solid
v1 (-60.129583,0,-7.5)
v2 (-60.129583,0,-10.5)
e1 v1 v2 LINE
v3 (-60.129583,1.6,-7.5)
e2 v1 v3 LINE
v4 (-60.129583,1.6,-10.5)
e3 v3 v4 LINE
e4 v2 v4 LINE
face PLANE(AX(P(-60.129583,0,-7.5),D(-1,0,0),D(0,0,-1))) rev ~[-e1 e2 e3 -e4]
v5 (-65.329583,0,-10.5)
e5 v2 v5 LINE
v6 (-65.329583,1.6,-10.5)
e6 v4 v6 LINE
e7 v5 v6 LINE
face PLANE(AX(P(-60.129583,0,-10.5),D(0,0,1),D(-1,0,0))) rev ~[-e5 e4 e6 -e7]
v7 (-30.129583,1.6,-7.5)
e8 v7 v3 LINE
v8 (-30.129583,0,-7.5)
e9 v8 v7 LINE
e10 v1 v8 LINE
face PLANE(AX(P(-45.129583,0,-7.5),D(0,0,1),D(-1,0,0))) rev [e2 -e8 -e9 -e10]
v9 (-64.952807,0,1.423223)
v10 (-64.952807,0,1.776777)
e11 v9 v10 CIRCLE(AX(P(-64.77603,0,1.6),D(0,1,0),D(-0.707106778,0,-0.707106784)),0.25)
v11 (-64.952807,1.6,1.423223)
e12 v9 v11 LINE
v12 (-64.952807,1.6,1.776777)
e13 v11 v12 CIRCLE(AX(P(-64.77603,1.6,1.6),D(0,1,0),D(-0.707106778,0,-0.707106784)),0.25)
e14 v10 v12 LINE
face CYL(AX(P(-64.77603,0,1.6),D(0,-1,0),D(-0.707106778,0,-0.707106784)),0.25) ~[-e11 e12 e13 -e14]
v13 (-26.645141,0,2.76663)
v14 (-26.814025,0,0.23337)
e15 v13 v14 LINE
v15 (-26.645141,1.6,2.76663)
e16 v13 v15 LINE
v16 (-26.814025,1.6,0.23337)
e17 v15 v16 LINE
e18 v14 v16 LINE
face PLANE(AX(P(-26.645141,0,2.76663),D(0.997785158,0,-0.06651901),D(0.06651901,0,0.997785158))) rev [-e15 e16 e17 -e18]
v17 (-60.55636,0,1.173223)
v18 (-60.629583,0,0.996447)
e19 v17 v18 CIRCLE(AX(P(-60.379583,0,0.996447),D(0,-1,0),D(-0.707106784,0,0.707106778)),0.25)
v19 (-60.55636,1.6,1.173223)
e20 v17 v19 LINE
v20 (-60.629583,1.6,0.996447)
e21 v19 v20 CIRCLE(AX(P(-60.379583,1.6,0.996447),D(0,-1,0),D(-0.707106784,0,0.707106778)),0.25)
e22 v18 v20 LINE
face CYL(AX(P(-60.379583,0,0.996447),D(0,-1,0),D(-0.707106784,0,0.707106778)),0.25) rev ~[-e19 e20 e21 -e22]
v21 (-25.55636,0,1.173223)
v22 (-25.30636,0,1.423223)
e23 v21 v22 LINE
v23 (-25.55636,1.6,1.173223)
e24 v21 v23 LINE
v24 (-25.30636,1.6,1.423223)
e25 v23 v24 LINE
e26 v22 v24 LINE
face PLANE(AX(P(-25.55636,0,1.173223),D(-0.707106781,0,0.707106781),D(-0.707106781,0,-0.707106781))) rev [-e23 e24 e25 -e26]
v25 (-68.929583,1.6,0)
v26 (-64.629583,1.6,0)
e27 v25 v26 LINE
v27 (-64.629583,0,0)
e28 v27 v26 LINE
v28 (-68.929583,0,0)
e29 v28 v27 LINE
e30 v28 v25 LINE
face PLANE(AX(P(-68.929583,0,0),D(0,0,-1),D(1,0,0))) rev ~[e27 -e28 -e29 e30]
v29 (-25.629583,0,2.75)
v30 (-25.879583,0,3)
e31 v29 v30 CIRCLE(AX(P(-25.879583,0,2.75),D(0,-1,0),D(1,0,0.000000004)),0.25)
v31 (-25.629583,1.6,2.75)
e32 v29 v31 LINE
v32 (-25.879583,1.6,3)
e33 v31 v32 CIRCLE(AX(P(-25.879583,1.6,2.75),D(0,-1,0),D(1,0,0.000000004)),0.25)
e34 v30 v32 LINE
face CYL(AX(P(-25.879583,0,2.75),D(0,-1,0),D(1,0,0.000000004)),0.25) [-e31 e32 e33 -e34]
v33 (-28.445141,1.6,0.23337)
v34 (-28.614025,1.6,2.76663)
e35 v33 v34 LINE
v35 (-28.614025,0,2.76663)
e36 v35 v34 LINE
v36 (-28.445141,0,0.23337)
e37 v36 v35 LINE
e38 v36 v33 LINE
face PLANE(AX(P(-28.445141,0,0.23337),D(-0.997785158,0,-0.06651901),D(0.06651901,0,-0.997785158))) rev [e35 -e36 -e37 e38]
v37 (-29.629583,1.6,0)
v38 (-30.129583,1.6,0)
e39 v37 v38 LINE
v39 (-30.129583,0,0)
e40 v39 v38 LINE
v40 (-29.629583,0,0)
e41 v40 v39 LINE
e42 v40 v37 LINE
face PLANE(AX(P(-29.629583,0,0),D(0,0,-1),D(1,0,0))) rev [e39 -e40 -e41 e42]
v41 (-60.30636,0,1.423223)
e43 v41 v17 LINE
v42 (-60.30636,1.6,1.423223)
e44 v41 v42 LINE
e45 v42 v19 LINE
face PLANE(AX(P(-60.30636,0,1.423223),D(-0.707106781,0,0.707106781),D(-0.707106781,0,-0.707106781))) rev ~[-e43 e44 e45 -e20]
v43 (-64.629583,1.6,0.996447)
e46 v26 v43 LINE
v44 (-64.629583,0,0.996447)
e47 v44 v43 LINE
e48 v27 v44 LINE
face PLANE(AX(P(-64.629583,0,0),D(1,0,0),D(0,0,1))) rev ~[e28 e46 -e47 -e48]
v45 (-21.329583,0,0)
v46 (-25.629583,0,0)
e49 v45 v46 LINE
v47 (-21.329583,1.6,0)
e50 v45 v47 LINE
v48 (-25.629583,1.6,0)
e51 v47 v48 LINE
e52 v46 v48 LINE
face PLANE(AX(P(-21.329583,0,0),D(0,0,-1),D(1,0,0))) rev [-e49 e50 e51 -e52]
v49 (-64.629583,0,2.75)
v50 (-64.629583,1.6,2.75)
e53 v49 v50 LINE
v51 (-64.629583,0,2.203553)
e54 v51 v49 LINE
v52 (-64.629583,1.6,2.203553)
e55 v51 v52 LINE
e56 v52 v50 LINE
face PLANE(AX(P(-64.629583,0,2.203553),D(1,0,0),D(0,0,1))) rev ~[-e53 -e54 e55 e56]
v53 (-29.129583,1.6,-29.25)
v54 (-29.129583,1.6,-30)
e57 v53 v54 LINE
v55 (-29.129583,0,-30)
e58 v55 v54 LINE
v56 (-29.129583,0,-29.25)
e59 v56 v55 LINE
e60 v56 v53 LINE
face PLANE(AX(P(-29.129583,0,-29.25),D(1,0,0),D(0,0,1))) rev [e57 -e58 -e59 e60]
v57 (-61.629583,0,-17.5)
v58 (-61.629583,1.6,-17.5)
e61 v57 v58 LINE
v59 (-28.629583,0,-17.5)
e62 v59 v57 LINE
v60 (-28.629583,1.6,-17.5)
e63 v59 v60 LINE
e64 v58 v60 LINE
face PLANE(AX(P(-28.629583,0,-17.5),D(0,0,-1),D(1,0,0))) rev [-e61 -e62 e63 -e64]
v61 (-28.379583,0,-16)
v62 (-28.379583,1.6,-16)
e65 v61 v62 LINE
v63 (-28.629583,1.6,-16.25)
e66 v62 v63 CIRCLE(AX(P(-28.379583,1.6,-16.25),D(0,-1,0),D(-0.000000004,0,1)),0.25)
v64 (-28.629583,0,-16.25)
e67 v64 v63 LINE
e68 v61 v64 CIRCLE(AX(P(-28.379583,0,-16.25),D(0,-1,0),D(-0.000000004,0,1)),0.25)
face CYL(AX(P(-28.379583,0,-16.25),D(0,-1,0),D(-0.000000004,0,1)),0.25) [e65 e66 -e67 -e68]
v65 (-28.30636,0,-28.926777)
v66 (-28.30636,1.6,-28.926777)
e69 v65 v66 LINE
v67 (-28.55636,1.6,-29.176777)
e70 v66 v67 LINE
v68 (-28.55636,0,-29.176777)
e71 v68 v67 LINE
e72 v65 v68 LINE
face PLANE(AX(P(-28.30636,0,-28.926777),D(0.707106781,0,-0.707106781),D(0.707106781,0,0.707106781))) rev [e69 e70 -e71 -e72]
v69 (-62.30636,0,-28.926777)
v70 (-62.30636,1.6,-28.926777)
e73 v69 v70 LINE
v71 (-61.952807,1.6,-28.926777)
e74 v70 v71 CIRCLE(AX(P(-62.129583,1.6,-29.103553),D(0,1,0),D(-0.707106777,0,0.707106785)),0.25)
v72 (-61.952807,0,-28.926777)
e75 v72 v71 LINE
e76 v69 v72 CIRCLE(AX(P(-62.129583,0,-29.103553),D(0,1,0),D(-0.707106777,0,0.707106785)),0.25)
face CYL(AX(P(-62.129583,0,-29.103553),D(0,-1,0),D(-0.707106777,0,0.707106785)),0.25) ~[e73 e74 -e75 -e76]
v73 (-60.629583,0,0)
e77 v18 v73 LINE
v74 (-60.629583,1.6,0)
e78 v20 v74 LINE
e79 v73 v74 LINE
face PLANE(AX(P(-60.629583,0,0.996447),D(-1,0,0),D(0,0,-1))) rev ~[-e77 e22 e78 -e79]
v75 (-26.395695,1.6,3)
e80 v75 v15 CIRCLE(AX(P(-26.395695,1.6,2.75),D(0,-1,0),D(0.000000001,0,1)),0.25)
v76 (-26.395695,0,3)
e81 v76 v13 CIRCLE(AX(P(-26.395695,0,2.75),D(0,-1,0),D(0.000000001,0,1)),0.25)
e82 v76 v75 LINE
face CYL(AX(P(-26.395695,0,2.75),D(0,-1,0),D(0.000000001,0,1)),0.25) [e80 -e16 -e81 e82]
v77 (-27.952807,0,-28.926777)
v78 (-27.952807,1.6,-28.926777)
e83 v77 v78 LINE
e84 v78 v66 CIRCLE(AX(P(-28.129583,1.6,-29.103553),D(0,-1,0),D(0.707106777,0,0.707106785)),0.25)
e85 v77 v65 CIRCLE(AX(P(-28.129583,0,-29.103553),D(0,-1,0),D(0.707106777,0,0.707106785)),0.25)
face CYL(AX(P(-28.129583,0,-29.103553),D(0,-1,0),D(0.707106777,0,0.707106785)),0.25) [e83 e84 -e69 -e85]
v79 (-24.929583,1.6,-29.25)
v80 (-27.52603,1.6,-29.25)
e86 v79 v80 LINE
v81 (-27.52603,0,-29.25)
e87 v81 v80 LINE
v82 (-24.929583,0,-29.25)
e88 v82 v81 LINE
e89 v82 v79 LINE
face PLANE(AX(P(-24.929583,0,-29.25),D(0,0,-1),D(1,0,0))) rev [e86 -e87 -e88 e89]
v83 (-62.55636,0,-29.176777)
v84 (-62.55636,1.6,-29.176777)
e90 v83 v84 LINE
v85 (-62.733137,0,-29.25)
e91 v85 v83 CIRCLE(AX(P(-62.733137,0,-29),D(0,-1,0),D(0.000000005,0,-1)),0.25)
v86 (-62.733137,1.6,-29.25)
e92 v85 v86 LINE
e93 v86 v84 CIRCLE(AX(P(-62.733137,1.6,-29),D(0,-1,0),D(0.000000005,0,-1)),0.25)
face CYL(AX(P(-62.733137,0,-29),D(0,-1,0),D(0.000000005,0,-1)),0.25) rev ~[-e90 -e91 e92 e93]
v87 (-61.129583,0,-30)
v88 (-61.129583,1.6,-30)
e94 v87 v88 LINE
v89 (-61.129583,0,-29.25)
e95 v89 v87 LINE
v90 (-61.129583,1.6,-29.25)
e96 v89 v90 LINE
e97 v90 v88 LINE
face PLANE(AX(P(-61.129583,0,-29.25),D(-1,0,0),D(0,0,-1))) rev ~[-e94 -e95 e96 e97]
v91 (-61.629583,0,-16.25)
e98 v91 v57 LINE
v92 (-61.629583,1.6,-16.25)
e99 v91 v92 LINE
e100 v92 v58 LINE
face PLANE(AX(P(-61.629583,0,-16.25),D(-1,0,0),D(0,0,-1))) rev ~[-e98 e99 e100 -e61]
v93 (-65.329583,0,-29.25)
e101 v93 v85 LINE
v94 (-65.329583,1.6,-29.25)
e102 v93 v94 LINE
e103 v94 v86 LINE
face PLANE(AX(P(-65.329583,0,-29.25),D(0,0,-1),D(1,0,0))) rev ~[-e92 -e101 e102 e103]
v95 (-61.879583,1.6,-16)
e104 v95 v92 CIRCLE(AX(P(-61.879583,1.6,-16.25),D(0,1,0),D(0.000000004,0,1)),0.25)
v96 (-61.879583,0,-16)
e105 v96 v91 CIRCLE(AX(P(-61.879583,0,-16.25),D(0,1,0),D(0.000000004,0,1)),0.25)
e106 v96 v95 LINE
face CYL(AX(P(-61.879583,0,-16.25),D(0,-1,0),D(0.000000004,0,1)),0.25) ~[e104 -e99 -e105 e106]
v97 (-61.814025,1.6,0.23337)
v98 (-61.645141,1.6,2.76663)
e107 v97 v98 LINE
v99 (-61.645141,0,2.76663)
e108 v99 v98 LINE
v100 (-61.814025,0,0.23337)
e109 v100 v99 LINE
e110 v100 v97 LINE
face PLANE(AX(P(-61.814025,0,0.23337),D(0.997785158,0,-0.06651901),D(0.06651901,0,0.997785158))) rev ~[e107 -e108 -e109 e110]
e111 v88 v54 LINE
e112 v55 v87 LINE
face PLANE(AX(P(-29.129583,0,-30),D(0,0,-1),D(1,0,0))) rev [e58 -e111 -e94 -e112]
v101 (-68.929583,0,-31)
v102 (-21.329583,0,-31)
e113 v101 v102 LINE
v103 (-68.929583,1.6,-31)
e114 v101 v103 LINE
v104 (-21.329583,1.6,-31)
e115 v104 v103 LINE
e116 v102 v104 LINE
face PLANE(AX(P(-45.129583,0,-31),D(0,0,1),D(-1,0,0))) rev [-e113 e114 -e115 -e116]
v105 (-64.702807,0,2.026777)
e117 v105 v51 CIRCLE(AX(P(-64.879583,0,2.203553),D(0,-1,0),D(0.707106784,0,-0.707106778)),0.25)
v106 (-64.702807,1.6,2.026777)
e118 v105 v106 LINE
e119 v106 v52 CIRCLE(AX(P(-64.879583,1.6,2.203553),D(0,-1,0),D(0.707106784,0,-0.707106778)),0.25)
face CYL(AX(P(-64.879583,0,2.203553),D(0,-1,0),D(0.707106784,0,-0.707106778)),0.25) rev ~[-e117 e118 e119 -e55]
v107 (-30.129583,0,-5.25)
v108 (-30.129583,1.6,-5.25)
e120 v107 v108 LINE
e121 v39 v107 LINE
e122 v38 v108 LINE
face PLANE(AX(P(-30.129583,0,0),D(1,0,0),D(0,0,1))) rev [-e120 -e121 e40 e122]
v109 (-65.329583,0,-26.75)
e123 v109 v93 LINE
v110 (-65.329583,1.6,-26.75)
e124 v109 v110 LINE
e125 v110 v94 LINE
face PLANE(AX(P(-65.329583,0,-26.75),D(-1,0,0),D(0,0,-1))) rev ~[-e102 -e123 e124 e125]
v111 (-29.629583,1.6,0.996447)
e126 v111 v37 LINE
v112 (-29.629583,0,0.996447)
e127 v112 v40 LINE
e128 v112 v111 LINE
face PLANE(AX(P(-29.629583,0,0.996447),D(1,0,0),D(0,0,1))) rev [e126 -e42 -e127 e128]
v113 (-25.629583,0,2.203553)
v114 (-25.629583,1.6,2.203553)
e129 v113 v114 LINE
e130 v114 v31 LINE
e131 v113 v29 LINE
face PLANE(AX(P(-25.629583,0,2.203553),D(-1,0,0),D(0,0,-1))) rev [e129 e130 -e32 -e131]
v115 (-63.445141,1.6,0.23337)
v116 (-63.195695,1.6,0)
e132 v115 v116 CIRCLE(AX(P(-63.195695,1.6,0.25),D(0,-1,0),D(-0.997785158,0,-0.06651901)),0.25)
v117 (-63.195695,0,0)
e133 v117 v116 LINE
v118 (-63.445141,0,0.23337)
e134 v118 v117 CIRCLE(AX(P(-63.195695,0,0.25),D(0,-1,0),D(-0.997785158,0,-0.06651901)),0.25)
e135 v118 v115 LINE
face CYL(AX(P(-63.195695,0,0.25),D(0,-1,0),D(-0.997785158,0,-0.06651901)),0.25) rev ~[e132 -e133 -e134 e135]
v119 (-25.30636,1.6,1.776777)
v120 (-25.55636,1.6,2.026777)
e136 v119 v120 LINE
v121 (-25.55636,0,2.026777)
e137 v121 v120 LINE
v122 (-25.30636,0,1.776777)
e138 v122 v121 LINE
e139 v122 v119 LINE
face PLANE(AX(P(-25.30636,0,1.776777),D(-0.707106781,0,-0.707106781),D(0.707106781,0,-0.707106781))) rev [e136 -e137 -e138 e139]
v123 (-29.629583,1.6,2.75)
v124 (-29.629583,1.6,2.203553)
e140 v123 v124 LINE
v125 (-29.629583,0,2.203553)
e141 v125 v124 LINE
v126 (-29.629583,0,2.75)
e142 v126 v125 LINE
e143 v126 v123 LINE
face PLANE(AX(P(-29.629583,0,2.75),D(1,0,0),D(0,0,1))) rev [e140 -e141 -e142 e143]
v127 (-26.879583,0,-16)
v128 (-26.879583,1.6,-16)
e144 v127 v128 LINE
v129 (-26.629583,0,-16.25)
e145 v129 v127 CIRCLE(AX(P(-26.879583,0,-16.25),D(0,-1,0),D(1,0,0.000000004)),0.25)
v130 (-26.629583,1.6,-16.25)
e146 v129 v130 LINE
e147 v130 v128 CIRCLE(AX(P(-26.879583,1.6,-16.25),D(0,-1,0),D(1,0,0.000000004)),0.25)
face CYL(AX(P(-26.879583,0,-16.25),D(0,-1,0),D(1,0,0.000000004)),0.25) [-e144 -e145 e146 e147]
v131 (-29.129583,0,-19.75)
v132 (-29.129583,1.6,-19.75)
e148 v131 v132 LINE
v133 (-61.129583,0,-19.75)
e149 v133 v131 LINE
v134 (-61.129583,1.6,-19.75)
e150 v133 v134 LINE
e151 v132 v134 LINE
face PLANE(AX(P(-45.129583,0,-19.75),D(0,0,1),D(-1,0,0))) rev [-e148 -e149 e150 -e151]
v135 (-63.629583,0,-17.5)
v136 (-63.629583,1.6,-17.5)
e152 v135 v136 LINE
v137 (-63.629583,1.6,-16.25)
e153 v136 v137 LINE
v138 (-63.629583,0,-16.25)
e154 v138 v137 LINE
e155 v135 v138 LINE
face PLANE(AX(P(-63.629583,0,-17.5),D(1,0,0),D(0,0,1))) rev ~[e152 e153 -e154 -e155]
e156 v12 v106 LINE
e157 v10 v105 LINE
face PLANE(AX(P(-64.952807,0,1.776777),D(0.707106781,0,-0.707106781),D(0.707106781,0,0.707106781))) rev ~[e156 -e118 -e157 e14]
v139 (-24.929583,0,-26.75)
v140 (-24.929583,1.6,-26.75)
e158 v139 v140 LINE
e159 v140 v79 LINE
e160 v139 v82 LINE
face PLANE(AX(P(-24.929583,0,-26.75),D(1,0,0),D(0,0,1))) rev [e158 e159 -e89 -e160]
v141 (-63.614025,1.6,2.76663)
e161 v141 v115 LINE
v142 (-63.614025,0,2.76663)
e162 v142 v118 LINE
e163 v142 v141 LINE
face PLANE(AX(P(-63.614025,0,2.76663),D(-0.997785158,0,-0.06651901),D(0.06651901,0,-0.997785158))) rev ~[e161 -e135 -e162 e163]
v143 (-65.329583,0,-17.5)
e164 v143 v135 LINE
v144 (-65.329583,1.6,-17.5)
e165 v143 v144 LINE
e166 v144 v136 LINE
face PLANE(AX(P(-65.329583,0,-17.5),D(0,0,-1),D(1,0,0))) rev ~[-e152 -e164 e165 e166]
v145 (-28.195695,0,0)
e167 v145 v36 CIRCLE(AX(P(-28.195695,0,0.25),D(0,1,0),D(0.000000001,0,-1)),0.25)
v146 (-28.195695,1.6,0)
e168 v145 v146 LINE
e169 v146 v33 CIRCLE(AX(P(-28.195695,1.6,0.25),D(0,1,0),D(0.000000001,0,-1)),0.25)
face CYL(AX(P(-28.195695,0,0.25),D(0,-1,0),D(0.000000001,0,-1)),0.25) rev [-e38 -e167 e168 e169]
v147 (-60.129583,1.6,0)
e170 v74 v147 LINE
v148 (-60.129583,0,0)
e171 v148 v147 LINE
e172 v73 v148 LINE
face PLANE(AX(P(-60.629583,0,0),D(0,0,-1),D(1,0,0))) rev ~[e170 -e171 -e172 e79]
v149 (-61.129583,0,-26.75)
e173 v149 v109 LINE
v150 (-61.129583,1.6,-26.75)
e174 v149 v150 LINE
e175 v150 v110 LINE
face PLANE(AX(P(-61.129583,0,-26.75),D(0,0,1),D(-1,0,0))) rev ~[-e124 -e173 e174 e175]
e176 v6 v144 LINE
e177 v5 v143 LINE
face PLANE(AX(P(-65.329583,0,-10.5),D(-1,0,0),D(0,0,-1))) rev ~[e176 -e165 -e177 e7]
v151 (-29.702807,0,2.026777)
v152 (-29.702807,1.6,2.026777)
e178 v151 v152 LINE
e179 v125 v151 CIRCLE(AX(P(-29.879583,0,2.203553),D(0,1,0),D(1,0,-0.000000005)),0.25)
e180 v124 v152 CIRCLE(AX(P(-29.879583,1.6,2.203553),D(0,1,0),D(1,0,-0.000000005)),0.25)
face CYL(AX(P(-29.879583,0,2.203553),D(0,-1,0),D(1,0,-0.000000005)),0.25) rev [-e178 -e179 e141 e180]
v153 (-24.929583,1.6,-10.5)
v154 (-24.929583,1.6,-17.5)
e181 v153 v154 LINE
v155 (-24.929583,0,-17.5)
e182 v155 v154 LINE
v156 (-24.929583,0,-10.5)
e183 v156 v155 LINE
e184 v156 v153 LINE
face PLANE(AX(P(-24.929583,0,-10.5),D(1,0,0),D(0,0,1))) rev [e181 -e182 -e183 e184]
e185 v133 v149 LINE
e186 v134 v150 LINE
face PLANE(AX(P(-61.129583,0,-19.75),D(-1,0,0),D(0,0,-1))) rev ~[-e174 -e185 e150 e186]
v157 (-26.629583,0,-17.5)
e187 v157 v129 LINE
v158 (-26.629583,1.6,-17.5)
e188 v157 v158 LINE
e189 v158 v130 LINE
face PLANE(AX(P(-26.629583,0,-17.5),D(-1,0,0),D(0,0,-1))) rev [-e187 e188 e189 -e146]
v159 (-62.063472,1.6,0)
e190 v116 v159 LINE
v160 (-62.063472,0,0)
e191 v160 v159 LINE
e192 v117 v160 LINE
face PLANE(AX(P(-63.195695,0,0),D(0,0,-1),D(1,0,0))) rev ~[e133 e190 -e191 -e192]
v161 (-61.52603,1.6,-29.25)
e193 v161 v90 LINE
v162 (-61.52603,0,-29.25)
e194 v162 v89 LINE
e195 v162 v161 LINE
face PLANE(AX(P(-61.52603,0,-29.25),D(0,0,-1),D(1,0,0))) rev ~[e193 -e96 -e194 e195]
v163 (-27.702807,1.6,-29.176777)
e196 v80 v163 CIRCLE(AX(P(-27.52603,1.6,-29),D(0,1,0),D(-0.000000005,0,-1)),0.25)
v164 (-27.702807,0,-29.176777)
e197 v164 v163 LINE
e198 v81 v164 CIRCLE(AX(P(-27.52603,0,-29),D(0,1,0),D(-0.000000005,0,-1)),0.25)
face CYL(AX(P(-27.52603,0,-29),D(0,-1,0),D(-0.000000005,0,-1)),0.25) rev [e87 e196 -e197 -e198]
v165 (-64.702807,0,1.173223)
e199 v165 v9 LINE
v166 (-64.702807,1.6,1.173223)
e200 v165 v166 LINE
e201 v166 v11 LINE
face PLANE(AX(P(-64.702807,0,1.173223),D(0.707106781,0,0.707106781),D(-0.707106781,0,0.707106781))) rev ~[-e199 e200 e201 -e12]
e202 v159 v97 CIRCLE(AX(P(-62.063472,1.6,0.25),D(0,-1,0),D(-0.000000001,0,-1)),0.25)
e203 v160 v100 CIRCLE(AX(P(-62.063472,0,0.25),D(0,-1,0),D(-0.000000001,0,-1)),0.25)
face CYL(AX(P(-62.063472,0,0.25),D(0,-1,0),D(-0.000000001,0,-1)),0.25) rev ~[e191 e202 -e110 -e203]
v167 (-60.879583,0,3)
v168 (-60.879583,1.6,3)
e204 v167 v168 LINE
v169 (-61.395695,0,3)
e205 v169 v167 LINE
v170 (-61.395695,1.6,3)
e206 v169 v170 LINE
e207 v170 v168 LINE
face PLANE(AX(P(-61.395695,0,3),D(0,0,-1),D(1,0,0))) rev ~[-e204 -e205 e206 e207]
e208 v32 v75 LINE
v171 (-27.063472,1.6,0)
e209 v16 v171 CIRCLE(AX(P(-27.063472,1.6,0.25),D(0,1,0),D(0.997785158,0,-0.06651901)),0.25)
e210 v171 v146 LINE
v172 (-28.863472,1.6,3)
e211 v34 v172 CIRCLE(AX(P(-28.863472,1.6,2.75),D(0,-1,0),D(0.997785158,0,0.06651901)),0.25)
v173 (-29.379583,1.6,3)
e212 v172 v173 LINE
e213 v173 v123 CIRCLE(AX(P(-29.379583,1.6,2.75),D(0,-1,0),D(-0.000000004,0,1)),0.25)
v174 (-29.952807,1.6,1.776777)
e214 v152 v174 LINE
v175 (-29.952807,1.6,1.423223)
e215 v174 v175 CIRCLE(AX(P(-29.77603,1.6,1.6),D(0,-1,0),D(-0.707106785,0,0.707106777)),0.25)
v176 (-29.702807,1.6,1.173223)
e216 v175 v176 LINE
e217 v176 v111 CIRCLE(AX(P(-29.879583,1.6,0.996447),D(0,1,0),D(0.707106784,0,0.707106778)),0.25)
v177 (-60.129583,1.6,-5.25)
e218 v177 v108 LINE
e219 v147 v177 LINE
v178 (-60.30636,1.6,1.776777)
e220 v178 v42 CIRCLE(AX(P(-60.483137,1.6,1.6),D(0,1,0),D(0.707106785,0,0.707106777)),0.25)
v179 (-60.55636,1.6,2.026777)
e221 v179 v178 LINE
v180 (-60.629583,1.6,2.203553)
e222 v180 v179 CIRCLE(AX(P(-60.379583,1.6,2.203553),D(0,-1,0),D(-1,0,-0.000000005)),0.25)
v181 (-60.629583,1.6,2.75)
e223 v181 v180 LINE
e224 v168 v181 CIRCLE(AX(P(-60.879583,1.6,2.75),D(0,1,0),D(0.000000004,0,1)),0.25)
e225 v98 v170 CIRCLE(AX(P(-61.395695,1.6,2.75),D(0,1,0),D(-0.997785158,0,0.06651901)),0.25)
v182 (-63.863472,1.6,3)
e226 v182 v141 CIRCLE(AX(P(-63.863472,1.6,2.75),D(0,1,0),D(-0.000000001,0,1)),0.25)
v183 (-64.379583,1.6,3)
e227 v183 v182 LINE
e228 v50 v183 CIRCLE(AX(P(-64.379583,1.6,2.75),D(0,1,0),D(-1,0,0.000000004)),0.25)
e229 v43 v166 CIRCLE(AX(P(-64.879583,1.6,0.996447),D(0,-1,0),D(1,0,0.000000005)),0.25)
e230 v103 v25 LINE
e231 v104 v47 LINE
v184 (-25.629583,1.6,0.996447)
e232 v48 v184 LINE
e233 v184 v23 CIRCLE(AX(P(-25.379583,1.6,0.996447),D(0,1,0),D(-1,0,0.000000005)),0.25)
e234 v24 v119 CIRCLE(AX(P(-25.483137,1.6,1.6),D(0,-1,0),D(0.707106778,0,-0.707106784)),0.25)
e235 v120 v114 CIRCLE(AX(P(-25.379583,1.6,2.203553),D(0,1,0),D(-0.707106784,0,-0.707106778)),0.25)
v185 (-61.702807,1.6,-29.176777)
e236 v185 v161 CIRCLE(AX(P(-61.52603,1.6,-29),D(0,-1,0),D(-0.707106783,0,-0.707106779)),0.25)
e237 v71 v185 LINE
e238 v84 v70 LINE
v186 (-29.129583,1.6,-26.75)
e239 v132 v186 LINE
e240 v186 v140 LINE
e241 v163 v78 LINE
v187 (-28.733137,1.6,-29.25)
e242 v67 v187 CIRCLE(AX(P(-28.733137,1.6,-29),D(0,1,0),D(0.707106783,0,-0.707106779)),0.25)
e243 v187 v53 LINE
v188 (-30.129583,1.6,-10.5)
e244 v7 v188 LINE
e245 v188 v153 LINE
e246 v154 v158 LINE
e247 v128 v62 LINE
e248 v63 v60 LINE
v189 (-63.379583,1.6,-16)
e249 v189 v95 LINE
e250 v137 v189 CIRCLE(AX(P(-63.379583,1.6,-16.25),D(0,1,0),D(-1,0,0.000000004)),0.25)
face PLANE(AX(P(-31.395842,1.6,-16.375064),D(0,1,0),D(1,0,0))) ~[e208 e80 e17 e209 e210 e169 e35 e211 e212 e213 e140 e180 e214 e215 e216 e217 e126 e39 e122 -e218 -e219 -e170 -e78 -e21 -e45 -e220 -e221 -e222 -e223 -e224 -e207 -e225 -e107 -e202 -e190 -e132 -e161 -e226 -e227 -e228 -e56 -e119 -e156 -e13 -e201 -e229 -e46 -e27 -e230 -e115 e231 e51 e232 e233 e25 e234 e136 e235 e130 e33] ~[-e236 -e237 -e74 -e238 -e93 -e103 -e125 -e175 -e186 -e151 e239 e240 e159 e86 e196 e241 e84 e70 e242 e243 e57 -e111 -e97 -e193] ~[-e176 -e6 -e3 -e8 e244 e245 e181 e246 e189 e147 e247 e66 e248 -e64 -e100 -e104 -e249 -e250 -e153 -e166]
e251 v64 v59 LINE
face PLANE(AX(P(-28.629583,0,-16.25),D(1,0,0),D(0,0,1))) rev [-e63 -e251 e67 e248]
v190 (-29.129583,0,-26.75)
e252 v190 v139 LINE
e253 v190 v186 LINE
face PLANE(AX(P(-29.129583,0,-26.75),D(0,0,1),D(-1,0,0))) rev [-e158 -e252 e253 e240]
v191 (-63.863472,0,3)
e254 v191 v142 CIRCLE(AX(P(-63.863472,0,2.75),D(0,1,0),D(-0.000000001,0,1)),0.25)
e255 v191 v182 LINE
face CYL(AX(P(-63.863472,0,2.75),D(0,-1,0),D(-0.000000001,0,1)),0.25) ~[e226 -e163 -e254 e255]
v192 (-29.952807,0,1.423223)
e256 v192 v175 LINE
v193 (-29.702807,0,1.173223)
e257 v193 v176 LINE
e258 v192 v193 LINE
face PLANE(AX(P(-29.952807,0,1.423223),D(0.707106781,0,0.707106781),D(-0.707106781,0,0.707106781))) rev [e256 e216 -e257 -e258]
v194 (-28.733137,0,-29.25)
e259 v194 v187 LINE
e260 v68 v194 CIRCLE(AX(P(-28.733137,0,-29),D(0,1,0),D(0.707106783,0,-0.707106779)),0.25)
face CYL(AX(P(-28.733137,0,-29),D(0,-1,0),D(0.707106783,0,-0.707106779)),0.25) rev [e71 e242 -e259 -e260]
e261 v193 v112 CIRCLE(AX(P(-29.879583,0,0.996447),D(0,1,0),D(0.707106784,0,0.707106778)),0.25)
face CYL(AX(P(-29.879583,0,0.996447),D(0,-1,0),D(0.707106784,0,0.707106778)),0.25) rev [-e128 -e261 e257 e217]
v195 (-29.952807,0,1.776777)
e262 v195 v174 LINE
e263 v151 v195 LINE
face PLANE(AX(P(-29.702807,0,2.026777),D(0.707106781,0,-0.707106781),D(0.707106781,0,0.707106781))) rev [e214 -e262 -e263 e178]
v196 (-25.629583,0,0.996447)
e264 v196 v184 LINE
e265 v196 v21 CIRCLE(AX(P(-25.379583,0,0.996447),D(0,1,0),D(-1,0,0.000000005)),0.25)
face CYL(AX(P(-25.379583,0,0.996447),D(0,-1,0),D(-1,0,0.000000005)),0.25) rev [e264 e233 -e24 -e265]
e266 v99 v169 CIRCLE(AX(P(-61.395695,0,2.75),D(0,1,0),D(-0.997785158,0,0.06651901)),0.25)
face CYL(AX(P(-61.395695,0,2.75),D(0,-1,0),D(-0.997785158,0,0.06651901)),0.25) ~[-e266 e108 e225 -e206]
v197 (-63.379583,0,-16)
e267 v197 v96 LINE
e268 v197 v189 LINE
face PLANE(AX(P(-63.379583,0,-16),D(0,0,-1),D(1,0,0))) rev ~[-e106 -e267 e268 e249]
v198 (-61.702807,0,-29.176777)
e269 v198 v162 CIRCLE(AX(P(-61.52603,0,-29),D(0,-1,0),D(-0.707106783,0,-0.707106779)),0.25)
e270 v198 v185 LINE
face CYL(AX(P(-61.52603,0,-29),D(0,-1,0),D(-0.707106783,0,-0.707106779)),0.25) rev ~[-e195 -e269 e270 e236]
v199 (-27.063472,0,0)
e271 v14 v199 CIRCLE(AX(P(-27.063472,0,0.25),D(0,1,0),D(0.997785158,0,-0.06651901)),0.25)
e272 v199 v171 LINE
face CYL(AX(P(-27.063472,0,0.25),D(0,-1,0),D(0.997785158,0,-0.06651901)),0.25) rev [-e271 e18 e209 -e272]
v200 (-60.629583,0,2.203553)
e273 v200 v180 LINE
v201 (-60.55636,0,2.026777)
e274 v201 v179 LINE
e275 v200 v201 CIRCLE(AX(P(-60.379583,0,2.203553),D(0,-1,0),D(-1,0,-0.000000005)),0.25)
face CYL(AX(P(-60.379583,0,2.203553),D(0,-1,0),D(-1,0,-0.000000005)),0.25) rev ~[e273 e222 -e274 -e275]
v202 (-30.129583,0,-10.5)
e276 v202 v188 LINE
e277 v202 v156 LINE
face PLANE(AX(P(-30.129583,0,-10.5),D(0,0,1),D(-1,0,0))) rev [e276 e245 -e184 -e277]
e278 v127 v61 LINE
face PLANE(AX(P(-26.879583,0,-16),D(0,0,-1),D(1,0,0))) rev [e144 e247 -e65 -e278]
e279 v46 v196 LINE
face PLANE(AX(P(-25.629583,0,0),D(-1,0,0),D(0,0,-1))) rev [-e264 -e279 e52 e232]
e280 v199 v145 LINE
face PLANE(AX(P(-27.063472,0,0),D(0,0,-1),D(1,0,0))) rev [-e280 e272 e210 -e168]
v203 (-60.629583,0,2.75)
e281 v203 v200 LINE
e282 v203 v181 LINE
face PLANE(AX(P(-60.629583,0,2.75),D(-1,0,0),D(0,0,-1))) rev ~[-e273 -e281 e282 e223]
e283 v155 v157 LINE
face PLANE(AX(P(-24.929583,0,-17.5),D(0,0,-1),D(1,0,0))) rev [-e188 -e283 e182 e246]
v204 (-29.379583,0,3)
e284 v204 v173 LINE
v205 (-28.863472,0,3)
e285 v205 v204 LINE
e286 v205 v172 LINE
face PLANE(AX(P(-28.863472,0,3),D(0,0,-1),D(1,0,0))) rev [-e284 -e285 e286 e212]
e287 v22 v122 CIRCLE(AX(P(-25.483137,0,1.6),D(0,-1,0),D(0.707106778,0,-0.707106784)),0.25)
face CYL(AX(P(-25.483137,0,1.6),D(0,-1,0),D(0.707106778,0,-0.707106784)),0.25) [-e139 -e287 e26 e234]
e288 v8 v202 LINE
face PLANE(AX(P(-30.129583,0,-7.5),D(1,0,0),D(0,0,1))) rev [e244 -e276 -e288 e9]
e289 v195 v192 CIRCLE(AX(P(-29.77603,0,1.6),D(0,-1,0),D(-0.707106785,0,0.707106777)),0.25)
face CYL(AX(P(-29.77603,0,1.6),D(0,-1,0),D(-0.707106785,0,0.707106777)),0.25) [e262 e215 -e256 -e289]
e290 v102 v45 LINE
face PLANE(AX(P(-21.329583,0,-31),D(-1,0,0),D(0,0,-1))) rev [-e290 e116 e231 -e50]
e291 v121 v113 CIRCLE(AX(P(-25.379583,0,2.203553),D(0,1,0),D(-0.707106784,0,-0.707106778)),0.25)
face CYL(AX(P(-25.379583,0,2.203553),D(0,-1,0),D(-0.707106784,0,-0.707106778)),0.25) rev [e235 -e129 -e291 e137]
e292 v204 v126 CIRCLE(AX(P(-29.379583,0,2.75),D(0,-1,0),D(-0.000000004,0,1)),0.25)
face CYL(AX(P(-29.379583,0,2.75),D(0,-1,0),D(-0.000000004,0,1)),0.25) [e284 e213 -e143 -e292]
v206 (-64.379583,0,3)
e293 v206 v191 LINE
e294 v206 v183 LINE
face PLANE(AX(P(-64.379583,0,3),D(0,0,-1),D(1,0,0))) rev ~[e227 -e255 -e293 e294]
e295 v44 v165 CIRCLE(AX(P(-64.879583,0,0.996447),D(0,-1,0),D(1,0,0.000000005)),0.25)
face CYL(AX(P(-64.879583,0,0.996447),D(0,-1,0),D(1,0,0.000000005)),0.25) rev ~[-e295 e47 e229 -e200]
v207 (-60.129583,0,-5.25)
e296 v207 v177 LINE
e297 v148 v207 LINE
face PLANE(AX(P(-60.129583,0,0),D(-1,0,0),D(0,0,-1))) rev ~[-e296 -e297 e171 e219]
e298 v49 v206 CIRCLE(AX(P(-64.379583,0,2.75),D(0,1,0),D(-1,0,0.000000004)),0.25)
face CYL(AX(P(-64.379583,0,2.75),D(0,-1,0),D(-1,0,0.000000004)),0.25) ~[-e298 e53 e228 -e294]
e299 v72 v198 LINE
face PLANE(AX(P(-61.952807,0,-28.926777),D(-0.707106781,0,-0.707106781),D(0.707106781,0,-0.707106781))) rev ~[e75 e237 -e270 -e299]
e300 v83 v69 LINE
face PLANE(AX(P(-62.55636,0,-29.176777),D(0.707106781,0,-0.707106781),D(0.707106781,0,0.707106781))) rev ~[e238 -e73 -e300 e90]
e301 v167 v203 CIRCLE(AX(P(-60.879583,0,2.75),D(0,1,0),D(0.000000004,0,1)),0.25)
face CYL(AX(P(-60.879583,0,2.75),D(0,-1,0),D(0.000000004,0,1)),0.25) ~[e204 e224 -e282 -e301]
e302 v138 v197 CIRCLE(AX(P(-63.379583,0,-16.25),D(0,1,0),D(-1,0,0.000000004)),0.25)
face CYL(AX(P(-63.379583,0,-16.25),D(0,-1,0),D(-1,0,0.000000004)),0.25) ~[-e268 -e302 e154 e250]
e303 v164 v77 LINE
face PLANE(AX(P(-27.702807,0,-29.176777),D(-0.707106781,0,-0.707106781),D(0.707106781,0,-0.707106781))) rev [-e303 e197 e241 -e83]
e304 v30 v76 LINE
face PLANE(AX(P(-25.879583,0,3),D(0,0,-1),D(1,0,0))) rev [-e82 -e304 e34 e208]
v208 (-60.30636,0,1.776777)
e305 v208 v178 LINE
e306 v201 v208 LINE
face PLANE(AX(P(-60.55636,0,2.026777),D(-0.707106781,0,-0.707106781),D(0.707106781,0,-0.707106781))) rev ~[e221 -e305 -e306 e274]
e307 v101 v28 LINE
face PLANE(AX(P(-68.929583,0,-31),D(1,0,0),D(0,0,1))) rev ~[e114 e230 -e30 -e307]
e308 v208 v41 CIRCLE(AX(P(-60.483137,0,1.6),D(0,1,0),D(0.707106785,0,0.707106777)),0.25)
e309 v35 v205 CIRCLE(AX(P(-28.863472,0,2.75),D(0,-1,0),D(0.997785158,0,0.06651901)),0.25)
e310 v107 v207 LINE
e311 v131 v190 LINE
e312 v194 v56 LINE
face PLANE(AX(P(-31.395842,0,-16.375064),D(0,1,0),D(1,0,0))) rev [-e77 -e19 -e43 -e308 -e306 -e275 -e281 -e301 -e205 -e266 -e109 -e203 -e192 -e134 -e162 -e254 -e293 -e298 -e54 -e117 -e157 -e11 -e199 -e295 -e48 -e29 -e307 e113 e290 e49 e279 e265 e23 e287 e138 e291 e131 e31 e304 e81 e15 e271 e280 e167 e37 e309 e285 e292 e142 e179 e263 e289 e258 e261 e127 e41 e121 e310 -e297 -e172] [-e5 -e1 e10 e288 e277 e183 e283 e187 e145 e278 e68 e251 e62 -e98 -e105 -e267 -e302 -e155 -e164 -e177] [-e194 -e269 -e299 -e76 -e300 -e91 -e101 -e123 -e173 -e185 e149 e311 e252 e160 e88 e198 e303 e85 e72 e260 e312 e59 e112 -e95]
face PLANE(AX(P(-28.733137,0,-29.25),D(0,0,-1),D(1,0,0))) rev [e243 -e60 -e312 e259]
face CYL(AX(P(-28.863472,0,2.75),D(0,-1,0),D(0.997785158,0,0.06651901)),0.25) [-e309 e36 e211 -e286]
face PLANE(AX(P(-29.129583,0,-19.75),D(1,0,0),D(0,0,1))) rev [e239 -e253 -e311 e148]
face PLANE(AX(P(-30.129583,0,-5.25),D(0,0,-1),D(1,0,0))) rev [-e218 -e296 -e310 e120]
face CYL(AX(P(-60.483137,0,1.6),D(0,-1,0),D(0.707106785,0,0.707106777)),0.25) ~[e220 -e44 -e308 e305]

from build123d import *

# Parameters (mm, degrees)
BOSS_EXTRUDE1_DEPTH = 1.6


with BuildPart() as part:
    # Sketch1 → Boss-Extrude1 (new body)
    with BuildSketch(Plane(origin=(0, 0, 0), x_dir=(1, 0, 0), z_dir=(0, 1, 0))):
        with BuildLine():
            Line((-68.929583289, 0), (-64.629583289, 0))
            Line((-64.629583289, 0), (-64.629583289, -0.996446609))
            ThreePointArc((-64.629583289, -0.996446609), (-64.648613406, -1.092117467), (-64.702806594, -1.173223305))
            Line((-64.702806594, -1.173223305), (-64.952806594, -1.423223305))
            ThreePointArc((-64.952806594, -1.423223305), (-65.026029899, -1.6), (-64.952806594, -1.776776695))
            Line((-64.952806594, -1.776776695), (-64.702806594, -2.026776695))
            ThreePointArc((-64.702806594, -2.026776695), (-64.648613406, -2.107882533), (-64.629583289, -2.203553391))
            Line((-64.629583289, -2.203553391), (-64.629583289, -2.75))
            ThreePointArc((-64.629583289, -2.75), (-64.556359984, -2.926776695), (-64.379583289, -3))
            Line((-64.379583289, -3), (-63.863471562, -3))
            ThreePointArc((-63.863471562, -3), (-63.692675541, -2.932561549), (-63.614025273, -2.766629753))
            Line((-63.614025273, -2.766629753), (-63.445141306, -0.233370247))
            ThreePointArc((-63.445141306, -0.233370247), (-63.366491038, -0.067438451), (-63.195695016, 0))
            Line((-63.195695016, 0), (-62.063471562, 0))
            ThreePointArc((-62.063471562, 0), (-61.892675541, -0.067438451), (-61.814025273, -0.233370247))
            Line((-61.814025273, -0.233370247), (-61.645141306, -2.766629753))
            ThreePointArc((-61.645141306, -2.766629753), (-61.566491038, -2.932561549), (-61.395695016, -3))
            Line((-61.395695016, -3), (-60.879583289, -3))
            ThreePointArc((-60.879583289, -3), (-60.702806594, -2.926776695), (-60.629583289, -2.75))
            Line((-60.629583289, -2.75), (-60.629583289, -2.203553391))
            ThreePointArc((-60.629583289, -2.203553391), (-60.610553172, -2.107882533), (-60.556359984, -2.026776695))
            Line((-60.556359984, -2.026776695), (-60.306359984, -1.776776695))
            ThreePointArc((-60.306359984, -1.776776695), (-60.23313668, -1.6), (-60.306359984, -1.423223305))
            Line((-60.306359984, -1.423223305), (-60.556359984, -1.173223305))
            ThreePointArc((-60.556359984, -1.173223305), (-60.610553172, -1.092117467), (-60.629583289, -0.996446609))
            Line((-60.629583289, -0.996446609), (-60.629583289, 0))
            Line((-60.629583289, 0), (-60.129583289, 0))
            Line((-60.129583289, 0), (-60.129583289, 5.25))
            Line((-60.129583289, 5.25), (-45.129583289, 5.25))
            Line((-45.129583289, 5.25), (-45.129583289, 7.5))
            Line((-45.129583289, 7.5), (-60.129583289, 7.5))
            Line((-60.129583289, 7.5), (-60.129583289, 10.5))
            Line((-60.129583289, 10.5), (-65.329583289, 10.5))
            Line((-65.329583289, 10.5), (-65.329583289, 17.5))
            Line((-65.329583289, 17.5), (-63.629583289, 17.5))
            Line((-63.629583289, 17.5), (-63.629583289, 16.25))
            ThreePointArc((-63.629583289, 16.25), (-63.556359984, 16.073223305), (-63.379583289, 16))
            Line((-63.379583289, 16), (-61.879583289, 16))
            ThreePointArc((-61.879583289, 16), (-61.702806594, 16.073223305), (-61.629583289, 16.25))
            Line((-61.629583289, 16.25), (-61.629583289, 17.5))
            Line((-61.629583289, 17.5), (-45.129583289, 17.5))
            Line((-45.129583289, 17.5), (-45.129583289, 19.75))
            Line((-45.129583289, 19.75), (-61.129583289, 19.75))
            Line((-61.129583289, 19.75), (-61.129583289, 26.75))
            Line((-61.129583289, 26.75), (-65.329583289, 26.75))
            Line((-65.329583289, 26.75), (-65.329583289, 29.25))
            Line((-65.329583289, 29.25), (-62.73313668, 29.25))
            ThreePointArc((-62.73313668, 29.25), (-62.637465822, 29.230969883), (-62.556359984, 29.176776695))
            Line((-62.556359984, 29.176776695), (-62.306359984, 28.926776695))
            ThreePointArc((-62.306359984, 28.926776695), (-62.129583289, 28.853553391), (-61.952806594, 28.926776695))
            Line((-61.952806594, 28.926776695), (-61.702806594, 29.176776695))
            ThreePointArc((-61.702806594, 29.176776695), (-61.621700757, 29.230969883), (-61.526029899, 29.25))
            Line((-61.526029899, 29.25), (-61.129583289, 29.25))
            Line((-61.129583289, 29.25), (-61.129583289, 30))
            Line((-61.129583289, 30), (-45.129583289, 30))
            Line((-45.129583289, 30), (-45.129583289, 31))
            Line((-45.129583289, 31), (-68.929583289, 31))
            Line((-68.929583289, 31), (-68.929583289, 20))
            Line((-68.929583289, 20), (-68.929583289, 0))
        make_face()
    boss_extrude1 = extrude(amount=BOSS_EXTRUDE1_DEPTH)

    # Mirror1: Boss-Extrude1 across plane
    add(boss_extrude1.mirror(Plane(origin=(-45.129583289, 1.6, -31), x_dir=(0, 0, 1), z_dir=(-1, 0, 0))))


solid = part.part
